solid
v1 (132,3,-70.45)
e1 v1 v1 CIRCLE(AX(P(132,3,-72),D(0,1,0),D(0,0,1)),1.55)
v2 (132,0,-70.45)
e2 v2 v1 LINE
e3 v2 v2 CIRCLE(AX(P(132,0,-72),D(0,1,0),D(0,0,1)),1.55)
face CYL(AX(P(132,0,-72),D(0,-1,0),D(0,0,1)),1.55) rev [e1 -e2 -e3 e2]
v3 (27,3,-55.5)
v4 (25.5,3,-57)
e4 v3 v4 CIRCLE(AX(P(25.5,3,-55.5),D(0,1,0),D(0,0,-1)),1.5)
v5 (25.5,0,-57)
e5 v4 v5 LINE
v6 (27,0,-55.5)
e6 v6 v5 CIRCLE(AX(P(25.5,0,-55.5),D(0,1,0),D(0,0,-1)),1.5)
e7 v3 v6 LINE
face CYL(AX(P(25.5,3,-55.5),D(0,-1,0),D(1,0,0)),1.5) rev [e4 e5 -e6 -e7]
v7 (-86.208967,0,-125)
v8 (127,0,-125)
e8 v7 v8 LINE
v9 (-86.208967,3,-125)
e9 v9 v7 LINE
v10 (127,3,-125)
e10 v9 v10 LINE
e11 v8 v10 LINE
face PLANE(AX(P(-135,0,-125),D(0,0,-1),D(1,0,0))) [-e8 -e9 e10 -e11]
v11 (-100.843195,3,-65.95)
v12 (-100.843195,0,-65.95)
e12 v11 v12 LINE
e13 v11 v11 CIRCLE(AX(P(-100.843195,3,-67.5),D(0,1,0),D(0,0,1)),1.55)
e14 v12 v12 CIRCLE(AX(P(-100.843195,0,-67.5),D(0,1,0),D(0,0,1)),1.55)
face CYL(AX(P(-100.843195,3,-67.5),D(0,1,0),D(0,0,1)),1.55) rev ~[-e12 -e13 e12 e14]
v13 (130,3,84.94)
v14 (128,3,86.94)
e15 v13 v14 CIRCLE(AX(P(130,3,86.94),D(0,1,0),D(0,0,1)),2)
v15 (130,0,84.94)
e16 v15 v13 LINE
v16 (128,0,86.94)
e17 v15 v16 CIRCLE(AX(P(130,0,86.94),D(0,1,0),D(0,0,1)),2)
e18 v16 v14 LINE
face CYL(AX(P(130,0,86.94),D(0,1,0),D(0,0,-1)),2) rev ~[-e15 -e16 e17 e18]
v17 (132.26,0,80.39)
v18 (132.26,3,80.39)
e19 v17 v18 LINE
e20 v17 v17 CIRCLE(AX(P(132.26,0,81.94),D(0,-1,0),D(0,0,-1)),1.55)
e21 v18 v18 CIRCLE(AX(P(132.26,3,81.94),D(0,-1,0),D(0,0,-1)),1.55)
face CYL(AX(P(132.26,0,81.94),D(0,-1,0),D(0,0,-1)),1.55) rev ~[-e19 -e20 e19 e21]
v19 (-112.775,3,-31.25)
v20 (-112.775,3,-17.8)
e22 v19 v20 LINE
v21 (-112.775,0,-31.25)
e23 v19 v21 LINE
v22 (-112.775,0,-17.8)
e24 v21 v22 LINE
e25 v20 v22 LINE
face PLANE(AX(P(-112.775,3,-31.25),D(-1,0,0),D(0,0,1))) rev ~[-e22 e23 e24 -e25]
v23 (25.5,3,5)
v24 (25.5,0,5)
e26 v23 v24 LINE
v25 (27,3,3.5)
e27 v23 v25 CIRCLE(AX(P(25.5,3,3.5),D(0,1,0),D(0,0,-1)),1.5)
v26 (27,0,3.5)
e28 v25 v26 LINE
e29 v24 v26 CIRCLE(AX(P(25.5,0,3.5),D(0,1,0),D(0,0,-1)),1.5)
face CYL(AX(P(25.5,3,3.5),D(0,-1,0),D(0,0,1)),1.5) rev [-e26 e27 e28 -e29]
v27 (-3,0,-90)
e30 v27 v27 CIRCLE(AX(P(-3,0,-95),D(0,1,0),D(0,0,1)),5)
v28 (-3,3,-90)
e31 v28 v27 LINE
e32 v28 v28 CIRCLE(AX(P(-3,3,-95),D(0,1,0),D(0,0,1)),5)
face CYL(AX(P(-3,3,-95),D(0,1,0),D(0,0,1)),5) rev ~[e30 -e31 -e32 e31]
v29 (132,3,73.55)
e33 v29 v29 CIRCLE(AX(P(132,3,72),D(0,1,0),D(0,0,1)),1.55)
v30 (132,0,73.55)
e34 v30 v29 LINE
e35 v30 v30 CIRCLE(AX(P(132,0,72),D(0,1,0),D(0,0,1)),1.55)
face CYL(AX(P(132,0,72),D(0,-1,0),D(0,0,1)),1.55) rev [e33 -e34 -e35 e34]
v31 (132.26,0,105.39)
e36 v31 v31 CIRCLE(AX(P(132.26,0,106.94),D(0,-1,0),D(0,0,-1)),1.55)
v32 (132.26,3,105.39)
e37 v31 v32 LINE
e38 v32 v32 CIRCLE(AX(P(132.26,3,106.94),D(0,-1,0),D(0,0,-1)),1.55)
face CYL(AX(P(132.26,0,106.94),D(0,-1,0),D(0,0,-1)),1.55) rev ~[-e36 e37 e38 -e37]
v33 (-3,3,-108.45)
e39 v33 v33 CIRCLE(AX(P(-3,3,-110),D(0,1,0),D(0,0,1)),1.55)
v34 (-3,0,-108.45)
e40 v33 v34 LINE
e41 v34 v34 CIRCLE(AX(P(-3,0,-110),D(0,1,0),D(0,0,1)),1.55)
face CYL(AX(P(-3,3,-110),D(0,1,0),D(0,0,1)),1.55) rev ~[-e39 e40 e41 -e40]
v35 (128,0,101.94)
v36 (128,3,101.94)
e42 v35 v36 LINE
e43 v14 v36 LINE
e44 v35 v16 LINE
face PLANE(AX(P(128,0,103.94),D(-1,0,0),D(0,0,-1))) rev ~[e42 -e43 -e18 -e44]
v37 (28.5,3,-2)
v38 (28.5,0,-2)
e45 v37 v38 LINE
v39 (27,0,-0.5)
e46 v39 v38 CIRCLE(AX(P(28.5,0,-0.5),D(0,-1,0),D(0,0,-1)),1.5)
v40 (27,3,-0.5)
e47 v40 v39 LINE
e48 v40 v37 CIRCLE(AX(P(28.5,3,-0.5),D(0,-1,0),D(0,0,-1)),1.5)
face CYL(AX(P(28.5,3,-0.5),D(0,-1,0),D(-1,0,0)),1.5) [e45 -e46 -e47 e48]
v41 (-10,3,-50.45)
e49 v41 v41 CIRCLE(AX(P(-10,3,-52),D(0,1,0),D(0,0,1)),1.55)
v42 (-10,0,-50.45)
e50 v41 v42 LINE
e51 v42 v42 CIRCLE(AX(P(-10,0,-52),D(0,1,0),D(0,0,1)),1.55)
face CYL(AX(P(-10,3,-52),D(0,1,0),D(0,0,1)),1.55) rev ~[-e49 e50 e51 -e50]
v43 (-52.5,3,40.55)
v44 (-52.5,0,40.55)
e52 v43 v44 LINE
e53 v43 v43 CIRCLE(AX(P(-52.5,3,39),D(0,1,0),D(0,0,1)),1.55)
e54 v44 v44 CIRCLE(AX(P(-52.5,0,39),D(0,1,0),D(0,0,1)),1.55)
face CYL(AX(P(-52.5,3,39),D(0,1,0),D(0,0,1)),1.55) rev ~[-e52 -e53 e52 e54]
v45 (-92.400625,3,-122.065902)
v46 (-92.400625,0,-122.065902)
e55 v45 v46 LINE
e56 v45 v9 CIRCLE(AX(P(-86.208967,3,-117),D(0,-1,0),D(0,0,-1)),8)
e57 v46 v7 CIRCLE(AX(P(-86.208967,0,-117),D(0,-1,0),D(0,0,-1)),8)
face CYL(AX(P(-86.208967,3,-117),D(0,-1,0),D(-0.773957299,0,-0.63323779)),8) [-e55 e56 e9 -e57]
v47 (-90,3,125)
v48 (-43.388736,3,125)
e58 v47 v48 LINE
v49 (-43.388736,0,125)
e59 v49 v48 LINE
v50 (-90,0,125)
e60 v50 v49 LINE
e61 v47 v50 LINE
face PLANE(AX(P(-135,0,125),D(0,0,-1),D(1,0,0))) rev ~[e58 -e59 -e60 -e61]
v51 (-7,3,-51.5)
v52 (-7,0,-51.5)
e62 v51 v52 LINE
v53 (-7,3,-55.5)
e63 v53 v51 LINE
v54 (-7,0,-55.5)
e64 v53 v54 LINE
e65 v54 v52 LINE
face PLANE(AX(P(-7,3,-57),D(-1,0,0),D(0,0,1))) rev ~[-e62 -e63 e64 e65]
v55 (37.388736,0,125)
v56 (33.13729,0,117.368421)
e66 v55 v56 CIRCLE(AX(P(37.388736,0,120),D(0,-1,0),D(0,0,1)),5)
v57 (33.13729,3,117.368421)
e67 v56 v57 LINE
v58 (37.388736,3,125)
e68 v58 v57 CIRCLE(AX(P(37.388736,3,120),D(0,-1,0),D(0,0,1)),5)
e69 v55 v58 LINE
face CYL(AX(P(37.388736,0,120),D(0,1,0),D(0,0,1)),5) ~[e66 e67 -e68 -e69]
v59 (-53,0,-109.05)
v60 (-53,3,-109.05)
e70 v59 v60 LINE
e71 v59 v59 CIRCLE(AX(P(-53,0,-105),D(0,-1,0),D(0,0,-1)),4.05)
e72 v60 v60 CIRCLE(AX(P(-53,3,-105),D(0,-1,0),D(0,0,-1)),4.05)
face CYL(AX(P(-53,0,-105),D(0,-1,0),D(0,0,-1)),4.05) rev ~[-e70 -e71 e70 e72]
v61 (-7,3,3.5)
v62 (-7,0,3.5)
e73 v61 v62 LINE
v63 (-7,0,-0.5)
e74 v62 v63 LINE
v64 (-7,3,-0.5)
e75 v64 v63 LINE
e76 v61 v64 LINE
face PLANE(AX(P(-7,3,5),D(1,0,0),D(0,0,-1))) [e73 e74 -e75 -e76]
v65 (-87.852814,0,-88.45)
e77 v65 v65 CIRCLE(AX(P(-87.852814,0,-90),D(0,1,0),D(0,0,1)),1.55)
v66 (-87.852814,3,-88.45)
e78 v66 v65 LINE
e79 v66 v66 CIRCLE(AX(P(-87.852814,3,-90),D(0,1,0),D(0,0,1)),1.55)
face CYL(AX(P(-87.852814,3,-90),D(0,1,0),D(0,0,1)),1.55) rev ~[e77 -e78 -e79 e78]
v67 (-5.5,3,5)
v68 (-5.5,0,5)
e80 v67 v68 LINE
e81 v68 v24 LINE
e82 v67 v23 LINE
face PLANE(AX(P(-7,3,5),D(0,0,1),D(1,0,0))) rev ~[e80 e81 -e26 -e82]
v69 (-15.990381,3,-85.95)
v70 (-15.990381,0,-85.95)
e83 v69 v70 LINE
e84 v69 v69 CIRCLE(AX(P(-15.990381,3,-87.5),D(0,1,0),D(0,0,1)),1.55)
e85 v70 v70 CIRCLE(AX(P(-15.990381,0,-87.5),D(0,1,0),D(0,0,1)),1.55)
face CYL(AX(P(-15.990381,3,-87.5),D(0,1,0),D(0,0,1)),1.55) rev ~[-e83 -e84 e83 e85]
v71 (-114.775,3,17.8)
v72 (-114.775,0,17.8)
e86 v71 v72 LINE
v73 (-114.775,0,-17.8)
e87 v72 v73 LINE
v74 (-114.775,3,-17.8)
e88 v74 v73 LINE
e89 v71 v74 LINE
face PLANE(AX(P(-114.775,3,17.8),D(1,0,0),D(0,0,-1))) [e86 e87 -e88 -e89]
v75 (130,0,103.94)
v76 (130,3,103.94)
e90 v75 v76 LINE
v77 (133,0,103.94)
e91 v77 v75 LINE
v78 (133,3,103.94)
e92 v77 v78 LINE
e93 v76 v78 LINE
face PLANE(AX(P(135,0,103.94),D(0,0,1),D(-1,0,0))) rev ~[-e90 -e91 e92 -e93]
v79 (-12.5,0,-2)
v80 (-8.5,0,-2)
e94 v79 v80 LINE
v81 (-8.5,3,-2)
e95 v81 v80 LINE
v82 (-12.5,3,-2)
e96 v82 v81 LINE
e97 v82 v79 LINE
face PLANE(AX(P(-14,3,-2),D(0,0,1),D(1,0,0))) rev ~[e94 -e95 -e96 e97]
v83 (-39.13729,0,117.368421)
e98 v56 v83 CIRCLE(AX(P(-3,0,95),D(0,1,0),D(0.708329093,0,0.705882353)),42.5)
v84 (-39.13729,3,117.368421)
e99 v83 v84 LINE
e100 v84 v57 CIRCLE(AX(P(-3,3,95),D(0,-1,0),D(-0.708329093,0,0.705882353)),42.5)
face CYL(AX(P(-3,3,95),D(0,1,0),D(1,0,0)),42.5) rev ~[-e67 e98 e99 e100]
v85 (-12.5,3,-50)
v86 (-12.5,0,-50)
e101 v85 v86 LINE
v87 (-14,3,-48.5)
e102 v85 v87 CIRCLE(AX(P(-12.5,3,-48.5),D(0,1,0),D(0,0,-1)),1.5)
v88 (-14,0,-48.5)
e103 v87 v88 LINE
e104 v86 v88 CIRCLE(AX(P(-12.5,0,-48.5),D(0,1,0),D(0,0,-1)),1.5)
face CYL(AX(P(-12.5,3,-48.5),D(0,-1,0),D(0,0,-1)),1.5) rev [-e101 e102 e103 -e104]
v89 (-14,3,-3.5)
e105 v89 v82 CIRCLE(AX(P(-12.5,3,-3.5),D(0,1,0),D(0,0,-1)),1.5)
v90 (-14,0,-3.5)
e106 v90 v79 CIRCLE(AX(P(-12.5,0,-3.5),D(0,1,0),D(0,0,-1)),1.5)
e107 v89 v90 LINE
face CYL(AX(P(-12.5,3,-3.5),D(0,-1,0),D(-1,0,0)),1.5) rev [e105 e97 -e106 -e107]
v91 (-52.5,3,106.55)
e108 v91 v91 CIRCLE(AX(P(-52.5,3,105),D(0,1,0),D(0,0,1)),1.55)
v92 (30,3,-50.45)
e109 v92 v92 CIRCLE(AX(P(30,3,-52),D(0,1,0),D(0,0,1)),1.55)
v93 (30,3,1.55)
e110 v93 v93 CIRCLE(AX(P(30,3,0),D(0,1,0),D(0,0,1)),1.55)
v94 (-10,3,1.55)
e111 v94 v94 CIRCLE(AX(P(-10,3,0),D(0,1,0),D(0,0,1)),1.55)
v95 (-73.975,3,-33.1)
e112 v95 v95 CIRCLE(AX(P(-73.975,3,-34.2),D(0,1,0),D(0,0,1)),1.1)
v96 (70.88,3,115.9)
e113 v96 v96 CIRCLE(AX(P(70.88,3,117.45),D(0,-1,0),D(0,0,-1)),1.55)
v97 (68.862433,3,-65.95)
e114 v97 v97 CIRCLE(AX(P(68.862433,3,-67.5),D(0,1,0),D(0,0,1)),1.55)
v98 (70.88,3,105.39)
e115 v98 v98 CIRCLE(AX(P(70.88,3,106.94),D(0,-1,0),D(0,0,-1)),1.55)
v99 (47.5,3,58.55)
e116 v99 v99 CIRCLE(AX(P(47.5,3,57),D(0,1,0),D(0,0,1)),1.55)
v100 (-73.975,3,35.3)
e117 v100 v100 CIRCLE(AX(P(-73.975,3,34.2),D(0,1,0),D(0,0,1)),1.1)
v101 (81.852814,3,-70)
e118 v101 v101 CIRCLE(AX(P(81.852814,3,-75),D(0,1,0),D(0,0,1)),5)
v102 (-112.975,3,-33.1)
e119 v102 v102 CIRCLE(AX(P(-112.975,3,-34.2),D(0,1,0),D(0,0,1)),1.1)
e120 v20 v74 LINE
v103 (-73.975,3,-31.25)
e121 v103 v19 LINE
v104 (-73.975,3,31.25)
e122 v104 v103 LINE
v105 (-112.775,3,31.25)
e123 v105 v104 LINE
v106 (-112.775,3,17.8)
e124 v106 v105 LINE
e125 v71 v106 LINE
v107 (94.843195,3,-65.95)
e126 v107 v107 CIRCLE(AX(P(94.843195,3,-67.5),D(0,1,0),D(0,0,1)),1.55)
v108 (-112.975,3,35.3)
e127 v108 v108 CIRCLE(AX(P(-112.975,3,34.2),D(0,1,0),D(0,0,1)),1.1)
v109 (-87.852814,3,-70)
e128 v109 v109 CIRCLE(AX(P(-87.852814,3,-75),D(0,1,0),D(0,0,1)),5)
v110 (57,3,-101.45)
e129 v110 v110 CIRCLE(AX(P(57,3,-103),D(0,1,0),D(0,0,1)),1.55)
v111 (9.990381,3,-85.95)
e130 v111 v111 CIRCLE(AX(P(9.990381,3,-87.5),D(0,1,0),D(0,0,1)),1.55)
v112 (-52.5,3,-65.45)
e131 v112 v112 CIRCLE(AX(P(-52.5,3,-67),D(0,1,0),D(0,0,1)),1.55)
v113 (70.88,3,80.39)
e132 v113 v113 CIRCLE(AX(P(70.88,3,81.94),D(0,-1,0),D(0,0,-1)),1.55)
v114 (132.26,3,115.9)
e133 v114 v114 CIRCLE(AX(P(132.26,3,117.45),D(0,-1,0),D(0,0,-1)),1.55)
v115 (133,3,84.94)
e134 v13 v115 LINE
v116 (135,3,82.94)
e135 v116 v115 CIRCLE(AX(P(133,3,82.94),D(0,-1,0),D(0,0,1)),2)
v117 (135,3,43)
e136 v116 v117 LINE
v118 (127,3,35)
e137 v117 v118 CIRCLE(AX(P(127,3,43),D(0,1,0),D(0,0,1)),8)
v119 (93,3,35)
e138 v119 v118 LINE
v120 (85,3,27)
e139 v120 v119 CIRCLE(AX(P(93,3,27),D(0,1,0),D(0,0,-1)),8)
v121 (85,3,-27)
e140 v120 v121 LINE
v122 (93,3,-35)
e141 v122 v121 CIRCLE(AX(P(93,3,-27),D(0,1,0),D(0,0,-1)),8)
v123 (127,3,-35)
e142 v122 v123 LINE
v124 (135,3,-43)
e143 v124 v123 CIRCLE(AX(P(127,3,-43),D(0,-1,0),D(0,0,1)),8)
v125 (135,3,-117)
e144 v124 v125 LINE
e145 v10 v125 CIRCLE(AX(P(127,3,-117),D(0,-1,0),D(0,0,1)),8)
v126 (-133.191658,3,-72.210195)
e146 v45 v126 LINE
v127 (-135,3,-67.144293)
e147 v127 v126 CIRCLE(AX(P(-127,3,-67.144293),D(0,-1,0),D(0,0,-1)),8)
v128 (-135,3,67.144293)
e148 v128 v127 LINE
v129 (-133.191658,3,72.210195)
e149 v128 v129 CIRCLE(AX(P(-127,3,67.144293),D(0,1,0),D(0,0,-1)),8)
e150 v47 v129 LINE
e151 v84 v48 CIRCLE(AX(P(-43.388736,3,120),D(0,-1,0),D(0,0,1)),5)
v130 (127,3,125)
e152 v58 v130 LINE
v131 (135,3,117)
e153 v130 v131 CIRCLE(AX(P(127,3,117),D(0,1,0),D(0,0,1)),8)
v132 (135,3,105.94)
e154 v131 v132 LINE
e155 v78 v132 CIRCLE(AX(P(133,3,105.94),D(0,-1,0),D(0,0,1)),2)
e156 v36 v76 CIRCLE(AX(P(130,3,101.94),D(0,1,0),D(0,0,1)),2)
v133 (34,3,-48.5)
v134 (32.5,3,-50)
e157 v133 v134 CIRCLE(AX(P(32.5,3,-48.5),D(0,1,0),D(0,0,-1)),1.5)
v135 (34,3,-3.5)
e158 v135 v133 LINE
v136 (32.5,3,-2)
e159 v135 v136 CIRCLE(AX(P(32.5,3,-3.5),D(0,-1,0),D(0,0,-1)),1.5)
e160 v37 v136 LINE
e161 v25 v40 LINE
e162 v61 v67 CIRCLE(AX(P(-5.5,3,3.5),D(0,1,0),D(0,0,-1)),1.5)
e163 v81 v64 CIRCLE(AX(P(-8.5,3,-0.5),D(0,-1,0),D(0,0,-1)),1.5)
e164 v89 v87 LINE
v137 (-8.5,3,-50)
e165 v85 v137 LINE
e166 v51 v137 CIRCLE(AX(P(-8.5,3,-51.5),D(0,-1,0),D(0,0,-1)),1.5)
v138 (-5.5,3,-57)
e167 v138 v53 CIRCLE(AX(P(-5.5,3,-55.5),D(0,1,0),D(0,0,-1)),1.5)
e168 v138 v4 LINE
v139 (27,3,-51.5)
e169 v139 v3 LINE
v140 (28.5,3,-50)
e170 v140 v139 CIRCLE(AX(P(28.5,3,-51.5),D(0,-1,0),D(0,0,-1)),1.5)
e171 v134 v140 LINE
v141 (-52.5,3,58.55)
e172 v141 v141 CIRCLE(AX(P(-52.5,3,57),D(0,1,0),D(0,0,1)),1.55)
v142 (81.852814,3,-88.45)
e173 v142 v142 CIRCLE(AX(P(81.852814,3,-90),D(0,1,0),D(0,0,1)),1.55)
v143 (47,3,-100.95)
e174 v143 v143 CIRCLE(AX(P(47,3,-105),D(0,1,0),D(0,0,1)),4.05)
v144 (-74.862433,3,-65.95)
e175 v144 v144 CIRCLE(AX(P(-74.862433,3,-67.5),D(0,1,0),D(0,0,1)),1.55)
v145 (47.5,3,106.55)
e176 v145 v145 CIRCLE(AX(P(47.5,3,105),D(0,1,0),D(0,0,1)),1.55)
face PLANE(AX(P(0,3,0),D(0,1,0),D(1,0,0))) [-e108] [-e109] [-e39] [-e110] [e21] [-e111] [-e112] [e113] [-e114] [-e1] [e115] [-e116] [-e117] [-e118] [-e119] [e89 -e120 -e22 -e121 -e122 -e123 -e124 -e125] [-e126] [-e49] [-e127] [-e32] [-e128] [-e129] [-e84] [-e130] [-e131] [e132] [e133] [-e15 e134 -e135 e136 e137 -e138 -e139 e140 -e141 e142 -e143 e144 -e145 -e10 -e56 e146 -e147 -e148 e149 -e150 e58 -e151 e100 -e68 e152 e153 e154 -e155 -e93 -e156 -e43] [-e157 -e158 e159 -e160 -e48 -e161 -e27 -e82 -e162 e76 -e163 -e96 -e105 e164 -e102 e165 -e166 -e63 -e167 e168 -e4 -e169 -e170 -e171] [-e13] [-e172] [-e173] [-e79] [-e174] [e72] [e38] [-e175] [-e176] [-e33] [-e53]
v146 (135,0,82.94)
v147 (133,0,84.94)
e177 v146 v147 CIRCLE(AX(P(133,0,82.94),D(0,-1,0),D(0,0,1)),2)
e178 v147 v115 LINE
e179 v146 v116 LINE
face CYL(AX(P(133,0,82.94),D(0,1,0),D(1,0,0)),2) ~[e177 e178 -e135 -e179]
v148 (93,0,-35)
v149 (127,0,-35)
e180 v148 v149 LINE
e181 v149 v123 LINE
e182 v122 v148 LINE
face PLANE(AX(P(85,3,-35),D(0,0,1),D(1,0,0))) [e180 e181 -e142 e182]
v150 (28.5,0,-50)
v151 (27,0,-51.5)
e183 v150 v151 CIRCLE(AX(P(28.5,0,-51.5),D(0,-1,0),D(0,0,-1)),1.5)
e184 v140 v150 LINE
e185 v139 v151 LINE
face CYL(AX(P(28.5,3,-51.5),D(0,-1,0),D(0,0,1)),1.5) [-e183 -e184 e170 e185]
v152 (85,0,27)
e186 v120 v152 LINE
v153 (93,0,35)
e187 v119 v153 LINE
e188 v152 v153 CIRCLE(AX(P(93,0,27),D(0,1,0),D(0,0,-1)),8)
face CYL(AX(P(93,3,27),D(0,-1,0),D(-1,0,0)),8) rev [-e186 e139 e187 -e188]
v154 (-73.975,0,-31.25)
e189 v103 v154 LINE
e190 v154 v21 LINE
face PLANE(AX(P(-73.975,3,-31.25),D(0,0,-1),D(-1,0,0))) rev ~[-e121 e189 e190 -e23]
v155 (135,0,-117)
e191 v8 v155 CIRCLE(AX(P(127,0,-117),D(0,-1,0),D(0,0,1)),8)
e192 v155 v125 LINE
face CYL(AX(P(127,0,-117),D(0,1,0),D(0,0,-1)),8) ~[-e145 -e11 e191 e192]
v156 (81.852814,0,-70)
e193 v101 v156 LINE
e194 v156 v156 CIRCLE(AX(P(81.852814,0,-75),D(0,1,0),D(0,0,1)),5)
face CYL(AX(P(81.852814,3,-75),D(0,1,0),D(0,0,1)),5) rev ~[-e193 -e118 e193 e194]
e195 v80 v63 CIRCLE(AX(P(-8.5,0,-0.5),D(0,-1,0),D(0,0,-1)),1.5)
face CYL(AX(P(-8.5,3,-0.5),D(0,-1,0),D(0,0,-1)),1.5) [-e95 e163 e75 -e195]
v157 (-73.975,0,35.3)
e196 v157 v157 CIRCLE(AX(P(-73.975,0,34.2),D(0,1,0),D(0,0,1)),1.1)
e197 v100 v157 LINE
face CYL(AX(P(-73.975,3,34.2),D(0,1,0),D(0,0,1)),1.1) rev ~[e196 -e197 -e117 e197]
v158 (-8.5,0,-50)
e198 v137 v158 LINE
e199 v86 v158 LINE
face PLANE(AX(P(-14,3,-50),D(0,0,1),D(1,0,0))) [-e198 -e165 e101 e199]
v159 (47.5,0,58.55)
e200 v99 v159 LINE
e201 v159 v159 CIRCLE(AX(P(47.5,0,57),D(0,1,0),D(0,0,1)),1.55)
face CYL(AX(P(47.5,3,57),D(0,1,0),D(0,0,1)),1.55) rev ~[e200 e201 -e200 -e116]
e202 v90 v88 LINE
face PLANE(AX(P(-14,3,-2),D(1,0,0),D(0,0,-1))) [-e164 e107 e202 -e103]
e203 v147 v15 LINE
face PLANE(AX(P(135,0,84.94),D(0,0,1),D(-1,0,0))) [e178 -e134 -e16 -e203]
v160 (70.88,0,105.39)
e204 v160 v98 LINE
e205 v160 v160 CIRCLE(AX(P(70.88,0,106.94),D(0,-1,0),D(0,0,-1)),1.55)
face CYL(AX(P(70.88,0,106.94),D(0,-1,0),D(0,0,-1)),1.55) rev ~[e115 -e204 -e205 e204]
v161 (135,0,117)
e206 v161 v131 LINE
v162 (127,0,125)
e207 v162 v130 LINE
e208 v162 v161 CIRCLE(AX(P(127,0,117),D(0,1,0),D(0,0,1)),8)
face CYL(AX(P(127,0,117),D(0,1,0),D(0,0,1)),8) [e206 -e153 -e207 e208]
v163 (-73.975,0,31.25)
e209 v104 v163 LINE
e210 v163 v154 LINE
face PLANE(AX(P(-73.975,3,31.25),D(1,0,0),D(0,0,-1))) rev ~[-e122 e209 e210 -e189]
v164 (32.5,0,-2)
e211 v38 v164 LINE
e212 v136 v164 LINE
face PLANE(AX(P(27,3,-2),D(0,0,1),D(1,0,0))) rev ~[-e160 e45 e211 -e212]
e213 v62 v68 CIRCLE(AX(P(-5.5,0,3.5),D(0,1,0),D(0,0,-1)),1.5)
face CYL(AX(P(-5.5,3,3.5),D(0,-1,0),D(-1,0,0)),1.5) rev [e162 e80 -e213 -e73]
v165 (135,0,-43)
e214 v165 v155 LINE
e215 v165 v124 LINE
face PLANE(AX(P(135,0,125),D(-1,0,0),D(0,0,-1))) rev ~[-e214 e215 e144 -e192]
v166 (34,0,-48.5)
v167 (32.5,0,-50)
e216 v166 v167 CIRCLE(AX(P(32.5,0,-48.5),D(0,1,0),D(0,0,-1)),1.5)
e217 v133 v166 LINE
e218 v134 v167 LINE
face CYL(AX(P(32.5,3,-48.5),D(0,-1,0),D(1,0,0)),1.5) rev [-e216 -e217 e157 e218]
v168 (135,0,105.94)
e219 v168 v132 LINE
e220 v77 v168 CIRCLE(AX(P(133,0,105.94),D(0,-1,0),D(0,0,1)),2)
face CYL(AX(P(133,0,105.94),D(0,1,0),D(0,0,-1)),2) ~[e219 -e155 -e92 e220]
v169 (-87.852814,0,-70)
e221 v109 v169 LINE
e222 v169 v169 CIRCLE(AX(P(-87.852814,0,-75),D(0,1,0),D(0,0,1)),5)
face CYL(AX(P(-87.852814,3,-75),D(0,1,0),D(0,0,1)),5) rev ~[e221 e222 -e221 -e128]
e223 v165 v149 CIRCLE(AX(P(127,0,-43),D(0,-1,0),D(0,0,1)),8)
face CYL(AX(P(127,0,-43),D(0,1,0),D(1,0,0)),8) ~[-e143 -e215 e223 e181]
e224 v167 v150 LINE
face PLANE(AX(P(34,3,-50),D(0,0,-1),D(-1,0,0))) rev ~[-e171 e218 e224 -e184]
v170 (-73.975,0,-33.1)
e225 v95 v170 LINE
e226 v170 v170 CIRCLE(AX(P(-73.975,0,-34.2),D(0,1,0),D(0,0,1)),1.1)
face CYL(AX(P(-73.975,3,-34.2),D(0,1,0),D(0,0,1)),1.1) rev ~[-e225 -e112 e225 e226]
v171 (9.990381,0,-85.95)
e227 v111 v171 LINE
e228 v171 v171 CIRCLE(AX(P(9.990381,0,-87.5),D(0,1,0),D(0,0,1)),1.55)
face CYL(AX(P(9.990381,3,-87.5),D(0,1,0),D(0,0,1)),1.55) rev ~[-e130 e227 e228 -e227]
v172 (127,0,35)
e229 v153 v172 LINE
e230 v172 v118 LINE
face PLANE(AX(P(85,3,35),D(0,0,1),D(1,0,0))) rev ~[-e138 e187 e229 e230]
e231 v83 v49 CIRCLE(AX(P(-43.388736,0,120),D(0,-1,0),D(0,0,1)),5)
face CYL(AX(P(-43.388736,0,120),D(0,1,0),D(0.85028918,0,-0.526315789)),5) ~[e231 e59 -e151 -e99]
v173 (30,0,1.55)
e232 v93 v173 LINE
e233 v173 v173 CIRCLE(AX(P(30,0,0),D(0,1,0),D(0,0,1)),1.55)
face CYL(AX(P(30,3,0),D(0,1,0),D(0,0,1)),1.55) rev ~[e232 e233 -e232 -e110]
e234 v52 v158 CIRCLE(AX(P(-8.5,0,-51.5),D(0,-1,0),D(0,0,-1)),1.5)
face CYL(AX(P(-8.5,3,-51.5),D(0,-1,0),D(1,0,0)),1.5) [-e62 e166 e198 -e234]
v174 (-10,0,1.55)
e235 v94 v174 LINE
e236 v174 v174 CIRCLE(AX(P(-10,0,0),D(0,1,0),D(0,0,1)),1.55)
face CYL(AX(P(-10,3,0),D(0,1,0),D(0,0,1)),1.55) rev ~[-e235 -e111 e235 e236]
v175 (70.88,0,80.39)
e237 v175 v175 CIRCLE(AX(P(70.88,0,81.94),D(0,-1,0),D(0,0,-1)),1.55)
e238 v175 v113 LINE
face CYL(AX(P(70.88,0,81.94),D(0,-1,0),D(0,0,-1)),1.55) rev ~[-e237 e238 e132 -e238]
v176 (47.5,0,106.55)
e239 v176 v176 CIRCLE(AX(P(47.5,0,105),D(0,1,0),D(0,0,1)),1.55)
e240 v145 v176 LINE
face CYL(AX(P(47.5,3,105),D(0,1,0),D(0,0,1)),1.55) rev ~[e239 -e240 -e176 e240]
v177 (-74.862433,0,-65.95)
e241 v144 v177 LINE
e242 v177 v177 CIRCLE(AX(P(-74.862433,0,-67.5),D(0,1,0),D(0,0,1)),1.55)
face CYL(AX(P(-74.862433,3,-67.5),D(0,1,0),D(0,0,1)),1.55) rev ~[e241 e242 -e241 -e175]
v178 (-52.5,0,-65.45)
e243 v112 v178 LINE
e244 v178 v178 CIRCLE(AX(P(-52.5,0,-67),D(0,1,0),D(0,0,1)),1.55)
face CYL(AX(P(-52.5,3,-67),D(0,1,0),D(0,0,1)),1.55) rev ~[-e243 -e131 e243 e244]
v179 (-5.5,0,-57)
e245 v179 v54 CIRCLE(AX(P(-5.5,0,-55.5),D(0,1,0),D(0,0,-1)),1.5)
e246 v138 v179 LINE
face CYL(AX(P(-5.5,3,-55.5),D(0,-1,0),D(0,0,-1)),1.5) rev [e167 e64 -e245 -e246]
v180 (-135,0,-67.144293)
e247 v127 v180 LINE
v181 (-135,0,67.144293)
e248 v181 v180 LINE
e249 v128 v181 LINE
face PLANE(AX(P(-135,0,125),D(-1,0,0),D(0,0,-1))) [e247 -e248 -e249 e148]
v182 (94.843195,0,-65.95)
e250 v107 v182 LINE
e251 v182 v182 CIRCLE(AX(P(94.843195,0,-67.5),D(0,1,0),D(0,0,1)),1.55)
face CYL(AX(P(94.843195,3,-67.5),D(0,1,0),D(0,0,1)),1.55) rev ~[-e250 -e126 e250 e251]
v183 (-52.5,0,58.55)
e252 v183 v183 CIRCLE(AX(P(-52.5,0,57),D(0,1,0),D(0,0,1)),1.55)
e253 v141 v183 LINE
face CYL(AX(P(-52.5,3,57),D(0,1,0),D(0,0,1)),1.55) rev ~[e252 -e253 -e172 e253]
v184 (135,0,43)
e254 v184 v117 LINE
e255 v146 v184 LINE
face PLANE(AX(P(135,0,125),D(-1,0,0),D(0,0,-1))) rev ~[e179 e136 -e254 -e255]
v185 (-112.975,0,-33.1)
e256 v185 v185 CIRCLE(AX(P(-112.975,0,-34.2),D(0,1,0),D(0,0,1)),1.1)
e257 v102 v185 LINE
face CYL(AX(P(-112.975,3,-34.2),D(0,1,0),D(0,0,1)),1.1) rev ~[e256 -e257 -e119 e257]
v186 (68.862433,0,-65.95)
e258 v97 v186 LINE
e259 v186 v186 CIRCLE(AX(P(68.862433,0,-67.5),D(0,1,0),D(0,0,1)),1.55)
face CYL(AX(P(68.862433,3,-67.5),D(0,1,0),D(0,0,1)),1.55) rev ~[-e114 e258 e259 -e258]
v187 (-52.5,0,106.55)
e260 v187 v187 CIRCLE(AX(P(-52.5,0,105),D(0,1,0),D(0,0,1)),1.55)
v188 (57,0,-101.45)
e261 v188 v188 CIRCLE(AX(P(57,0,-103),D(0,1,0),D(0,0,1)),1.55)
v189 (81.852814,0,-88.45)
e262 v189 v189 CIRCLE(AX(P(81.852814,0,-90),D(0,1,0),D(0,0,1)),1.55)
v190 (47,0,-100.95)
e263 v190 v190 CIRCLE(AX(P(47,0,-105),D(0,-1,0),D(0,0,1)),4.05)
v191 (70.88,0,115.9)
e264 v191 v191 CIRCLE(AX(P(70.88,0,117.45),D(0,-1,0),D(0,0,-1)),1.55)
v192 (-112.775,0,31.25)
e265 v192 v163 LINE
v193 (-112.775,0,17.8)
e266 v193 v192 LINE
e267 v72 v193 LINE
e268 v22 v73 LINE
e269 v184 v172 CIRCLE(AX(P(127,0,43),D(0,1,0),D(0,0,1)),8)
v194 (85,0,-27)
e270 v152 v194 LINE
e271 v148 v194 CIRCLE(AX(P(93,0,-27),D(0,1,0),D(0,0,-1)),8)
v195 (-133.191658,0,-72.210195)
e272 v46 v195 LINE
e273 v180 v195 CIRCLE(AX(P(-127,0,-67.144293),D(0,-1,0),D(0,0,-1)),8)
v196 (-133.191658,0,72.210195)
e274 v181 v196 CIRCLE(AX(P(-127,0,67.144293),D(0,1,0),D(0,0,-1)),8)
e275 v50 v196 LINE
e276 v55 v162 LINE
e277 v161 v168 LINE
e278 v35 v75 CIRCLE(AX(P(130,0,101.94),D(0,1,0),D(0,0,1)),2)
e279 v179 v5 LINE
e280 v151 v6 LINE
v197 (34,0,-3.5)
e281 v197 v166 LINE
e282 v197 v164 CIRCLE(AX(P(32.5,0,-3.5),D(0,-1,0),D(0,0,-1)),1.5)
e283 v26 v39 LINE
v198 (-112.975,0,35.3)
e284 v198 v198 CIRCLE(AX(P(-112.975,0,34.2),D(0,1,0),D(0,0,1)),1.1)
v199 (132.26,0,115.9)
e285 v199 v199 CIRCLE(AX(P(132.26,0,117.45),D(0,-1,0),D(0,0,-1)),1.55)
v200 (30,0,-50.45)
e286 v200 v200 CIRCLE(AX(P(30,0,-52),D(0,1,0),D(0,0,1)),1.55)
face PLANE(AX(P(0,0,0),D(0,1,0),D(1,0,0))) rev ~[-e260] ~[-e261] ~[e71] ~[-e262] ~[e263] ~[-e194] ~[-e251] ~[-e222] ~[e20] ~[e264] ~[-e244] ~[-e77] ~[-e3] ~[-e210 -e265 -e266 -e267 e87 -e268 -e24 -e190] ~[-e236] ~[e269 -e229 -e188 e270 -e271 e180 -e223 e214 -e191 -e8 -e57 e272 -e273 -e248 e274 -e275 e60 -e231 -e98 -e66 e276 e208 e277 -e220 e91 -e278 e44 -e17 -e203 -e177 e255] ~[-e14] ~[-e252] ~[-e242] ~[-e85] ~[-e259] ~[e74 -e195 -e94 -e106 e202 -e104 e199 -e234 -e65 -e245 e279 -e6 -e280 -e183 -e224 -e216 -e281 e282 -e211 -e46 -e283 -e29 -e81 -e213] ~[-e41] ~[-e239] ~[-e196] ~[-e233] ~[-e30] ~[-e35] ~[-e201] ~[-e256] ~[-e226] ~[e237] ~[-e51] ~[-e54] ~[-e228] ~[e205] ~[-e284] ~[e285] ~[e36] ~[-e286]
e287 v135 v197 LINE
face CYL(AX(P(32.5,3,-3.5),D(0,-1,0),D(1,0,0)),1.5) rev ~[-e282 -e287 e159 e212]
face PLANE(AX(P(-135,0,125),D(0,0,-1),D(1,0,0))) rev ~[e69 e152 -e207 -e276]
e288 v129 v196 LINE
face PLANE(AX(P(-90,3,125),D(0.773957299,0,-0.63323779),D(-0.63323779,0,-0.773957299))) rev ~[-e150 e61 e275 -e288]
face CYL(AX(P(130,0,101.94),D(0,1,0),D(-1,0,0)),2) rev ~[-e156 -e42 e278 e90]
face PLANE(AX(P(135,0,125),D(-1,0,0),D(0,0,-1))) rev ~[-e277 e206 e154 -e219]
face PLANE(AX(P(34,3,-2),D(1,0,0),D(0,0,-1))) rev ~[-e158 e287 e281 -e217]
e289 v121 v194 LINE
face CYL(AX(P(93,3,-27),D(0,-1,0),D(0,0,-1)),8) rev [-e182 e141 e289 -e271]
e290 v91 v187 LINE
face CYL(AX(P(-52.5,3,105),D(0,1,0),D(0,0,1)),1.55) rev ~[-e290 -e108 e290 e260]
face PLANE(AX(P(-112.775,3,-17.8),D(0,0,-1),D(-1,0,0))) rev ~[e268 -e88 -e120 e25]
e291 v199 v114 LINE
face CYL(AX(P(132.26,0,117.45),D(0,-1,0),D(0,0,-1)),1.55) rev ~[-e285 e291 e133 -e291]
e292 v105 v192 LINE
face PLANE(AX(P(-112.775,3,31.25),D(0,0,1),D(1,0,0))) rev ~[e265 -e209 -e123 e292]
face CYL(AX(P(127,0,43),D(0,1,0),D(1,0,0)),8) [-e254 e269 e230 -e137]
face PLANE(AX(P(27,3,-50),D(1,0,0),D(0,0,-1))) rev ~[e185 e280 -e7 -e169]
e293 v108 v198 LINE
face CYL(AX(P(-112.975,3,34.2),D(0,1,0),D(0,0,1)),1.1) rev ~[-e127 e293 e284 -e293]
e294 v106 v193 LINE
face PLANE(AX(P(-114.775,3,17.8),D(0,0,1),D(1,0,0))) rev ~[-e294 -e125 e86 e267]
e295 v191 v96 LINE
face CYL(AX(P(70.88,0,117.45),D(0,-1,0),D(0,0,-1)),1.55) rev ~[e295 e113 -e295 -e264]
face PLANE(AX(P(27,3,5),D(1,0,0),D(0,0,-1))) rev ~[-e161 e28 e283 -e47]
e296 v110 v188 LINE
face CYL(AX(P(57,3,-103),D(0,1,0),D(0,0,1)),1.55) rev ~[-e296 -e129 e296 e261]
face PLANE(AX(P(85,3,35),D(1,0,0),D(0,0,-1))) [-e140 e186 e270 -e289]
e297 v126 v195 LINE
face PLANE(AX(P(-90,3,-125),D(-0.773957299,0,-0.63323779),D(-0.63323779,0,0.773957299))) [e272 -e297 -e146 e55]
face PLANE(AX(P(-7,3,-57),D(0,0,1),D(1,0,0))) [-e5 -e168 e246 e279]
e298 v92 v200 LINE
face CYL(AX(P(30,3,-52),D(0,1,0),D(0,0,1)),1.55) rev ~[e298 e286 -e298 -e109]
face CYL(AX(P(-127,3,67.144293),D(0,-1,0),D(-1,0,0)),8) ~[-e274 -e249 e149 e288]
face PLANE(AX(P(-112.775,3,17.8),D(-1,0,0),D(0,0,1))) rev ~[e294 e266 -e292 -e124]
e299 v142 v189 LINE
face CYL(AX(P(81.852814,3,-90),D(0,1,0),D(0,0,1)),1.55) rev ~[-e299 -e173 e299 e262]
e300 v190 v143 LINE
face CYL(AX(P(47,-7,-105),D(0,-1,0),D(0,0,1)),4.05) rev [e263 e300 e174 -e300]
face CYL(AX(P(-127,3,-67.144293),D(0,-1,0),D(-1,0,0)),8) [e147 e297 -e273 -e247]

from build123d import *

# Parameters (mm, degrees)
SKETCH_1_W           = 270
SKETCH_1_H           = 250
SKETCH_1_R           = 1.55
EXTRUDE_1_DEPTH      = 3
SKETCH_2_R           = 40
CUT_EXTRUDE_1_DEPTH  = 10
CUT_EXTRUDE_3_DEPTH  = 10
SKETCH_5_R           = 5
SKETCH_5_R_2         = 1.55
CUT_EXTRUDE_4_DEPTH  = 10
SKETCH_6_R           = 42.5
CUT_EXTRUDE_5_DEPTH  = 10
SKETCH_8_W           = 100
SKETCH_8_H           = 70
CUT_EXTRUDE_7_DEPTH  = 10
SKETCH_9_R           = 1.55
CUT_EXTRUDE_8_DEPTH  = 10
SKETCH_10_R          = 1.55
CUT_EXTRUDE_9_DEPTH  = 10
SKETCH_11_R          = 1.55
CUT_EXTRUDE_10_DEPTH = 10
FILLET_3_R           = 8
SKETCH_13_W          = 34
SKETCH_13_H          = 48
SKETCH_13_W_2        = 7
SKETCH_13_H_2        = 7
SKETCH_13_R          = 1.55
CUT_EXTRUDE_12_DEPTH = 10
FILLET_4_R           = 1.5
SKETCH_15_R          = 1.55
CUT_EXTRUDE_13_DEPTH = 10
SKETCH_16_R          = 4.05
CUT_EXTRUDE_14_DEPTH = 10
CUT_EXTRUDE_START    = -10
SKETCH_19_R          = 4.05
CUT_EXTRUDE_19_DEPTH = 10
SKETCH_21_R          = 1.55
CUT_EXTRUDE_20_DEPTH = 10
SKETCH_23_W          = 7
SKETCH_23_H          = 19
CUT_EXTRUDE_22_DEPTH = 10
FILLET_8_R           = 2
SKETCH_12_W          = 2
SKETCH_12_H          = 35.6
SKETCH_12_R          = 1.1
CUT_EXTRUDE_23_DEPTH = 10
FILLET_9_R           = 5
SKETCH_26_R          = 1.55
CUT_EXTRUDE_24_DEPTH = 8


with BuildPart() as part:
    # 草图1 → 凸台-拉伸1 (new body)
    with BuildSketch(Plane(origin=(0, 0, 0), x_dir=(1, 0, 0), z_dir=(0, 1, 0))):
        Rectangle(SKETCH_1_W, SKETCH_1_H)
        with Locations(Location((132, 72, 0), (0, 0, 270))):
            Circle(SKETCH_1_R, mode=Mode.SUBTRACT)
        with Locations(Location((132, -72, 0), (0, 0, 270))):
            Circle(SKETCH_1_R, mode=Mode.SUBTRACT)
    extrude(amount=EXTRUDE_1_DEPTH)

    # 草图2 → 切除-拉伸1 (cut)
    with BuildSketch(Plane(origin=(0, 3, 0), x_dir=(1, 0, 0), z_dir=(0, 1, 0))):
        with Locations((-3, -95)):
            Circle(SKETCH_2_R)
    extrude(amount=-CUT_EXTRUDE_1_DEPTH, mode=Mode.SUBTRACT)

    # 草图4 → 切除-拉伸3 (cut)
    with BuildSketch(Plane(origin=(0, 3, 0), x_dir=(1, 0, 0), z_dir=(0, 1, 0))):
        Polygon((-90, -125), (-135, -70), (-162.976707817, -172.035264534), align=None)
        Polygon((-90, 125), (-135, 70), (-171.69806915, 153.777299788), align=None)
    extrude(amount=-CUT_EXTRUDE_3_DEPTH, mode=Mode.SUBTRACT)

    # 草图5 → 切除-拉伸4 (cut)
    with BuildSketch(Plane(origin=(0, 3, 0), x_dir=(1, 0, 0), z_dir=(0, 1, 0))):
        with Locations(Location((-87.852813742, 75, 0), (0, 0, 270))):
            Circle(SKETCH_5_R)
        with Locations(Location((-3, 95, 0), (0, 0, 270))):
            Circle(SKETCH_5_R)
        with Locations(Location((81.852813742, 75, 0), (0, 0, 270))):
            Circle(SKETCH_5_R)
        with Locations(Location((-87.852813742, 90, 0), (0, 0, 270))):
            Circle(SKETCH_5_R_2)
        with Locations(Location((-74.862432686, 67.5, 0), (0, 0, 270))):
            Circle(SKETCH_5_R_2)
        with Locations(Location((-100.843194799, 67.5, 0), (0, 0, 270))):
            Circle(SKETCH_5_R_2)
        with Locations(Location((-3, 110, 0), (0, 0, 270))):
            Circle(SKETCH_5_R_2)
        with Locations(Location((9.990381057, 87.5, 0), (0, 0, 270))):
            Circle(SKETCH_5_R_2)
        with Locations(Location((-15.990381057, 87.5, 0), (0, 0, 270))):
            Circle(SKETCH_5_R_2)
        with Locations(Location((81.852813742, 90, 0), (0, 0, 270))):
            Circle(SKETCH_5_R_2)
        with Locations(Location((94.843194799, 67.5, 0), (0, 0, 270))):
            Circle(SKETCH_5_R_2)
        with Locations(Location((68.862432686, 67.5, 0), (0, 0, 270))):
            Circle(SKETCH_5_R_2)
    extrude(amount=-CUT_EXTRUDE_4_DEPTH, mode=Mode.SUBTRACT)

    # 草图6 → 切除-拉伸5 (cut)
    with BuildSketch(Plane(origin=(0, 3, 0), x_dir=(1, 0, 0), z_dir=(0, 1, 0))):
        with Locations((-3, -95)):
            Circle(SKETCH_6_R)
    extrude(amount=-CUT_EXTRUDE_5_DEPTH, mode=Mode.SUBTRACT)

    # 草图8 → 切除-拉伸7 (cut)
    with BuildSketch(Plane(origin=(0, 3, 0), x_dir=(1, 0, 0), z_dir=(0, 1, 0))):
        with Locations((135, 0)):
            Rectangle(SKETCH_8_W, SKETCH_8_H)
    extrude(amount=-CUT_EXTRUDE_7_DEPTH, mode=Mode.SUBTRACT)

    # 草图9 → 切除-拉伸8 (cut)
    with BuildSketch(Plane(origin=(0, 3, 0), x_dir=(1, 0, 0), z_dir=(0, 1, 0))):
        with Locations(Location((-52.5, 67, 0), (0, 0, 270))):
            Circle(SKETCH_9_R)
    extrude(amount=-CUT_EXTRUDE_8_DEPTH, mode=Mode.SUBTRACT)

    # 草图10 → 切除-拉伸9 (cut)
    with BuildSketch(Plane(origin=(0, 3, 0), x_dir=(1, 0, 0), z_dir=(0, 1, 0))):
        with Locations(Location((57, 103, 0), (0, 0, 270))):
            Circle(SKETCH_10_R)
    extrude(amount=-CUT_EXTRUDE_9_DEPTH, mode=Mode.SUBTRACT)

    # 草图11 → 切除-拉伸10 (cut)
    with BuildSketch(Plane(origin=(0, 3, 0), x_dir=(1, 0, 0), z_dir=(0, 1, 0))):
        with Locations(Location((-52.5, -39, 0), (0, 0, 270))):
            Circle(SKETCH_11_R)
    extrude(amount=-CUT_EXTRUDE_10_DEPTH, mode=Mode.SUBTRACT)

    # 圆角3
    fillet_3_edges = [part.edges().sort_by_distance(p)[0] for p in [
        (135, 1.5, 35),
        (135, 1.5, -35),
        (85, 1.5, 35),
        (85, 1.5, -35),
        (-135, 1.5, -70),
        (-135, 1.5, 70),
        (-90, 1.5, -125),
        (135, 1.5, 125),
        (135, 1.5, -125),
    ]]
    fillet(fillet_3_edges, radius=FILLET_3_R)

    # 草图13 → 切除-拉伸12 (cut)
    with BuildSketch(Plane(origin=(0, 3, 0), x_dir=(1, 0, 0), z_dir=(0, 1, 0))):
        with Locations((10, 26)):
            Rectangle(SKETCH_13_W, SKETCH_13_H)
        with Locations((30.5, 26)):
            Rectangle(SKETCH_13_W_2, SKETCH_13_H)
        with Locations((10, 53.5)):
            Rectangle(SKETCH_13_W, SKETCH_13_H_2)
        with Locations((-10.5, 26)):
            Rectangle(SKETCH_13_W_2, SKETCH_13_H)
        with Locations((10, -1.5)):
            Rectangle(SKETCH_13_W, SKETCH_13_H_2)
        with Locations(Location((30, 0, 0), (0, 0, 270))):
            Circle(SKETCH_13_R)
        with Locations(Location((-10, 52, 0), (0, 0, 270))):
            Circle(SKETCH_13_R)
        with Locations(Location((-10, 0, 0), (0, 0, 270))):
            Circle(SKETCH_13_R)
        with Locations(Location((30, 52, 0), (0, 0, 270))):
            Circle(SKETCH_13_R)
    extrude(amount=-CUT_EXTRUDE_12_DEPTH, mode=Mode.SUBTRACT)

    # 圆角4
    fillet_4_edges = [part.edges().sort_by_distance(p)[0] for p in [
        (-7, 1.5, -2),
        (-14, 1.5, -2),
        (-14, 1.5, -50),
        (-7, 1.5, -50),
        (-7, 1.5, -57),
        (27, 1.5, -57),
        (27, 1.5, -50),
        (34, 1.5, -50),
        (34, 1.5, -2),
        (27, 1.5, -2),
        (27, 1.5, 5),
        (-7, 1.5, 5),
    ]]
    fillet(fillet_4_edges, radius=FILLET_4_R)

    # 草图15 → 切除-拉伸13 (cut)
    with BuildSketch(Plane(origin=(0, 3, 0), x_dir=(1, 0, 0), z_dir=(0, 1, 0))):
        with Locations(Location((47.5, -105, 0), (0, 0, 270))):
            Circle(SKETCH_15_R)
        with Locations(Location((-52.5, -105, 0), (0, 0, 270))):
            Circle(SKETCH_15_R)
        with Locations(Location((47.5, -57, 0), (0, 0, 270))):
            Circle(SKETCH_15_R)
        with Locations(Location((-52.5, -57, 0), (0, 0, 270))):
            Circle(SKETCH_15_R)
    extrude(amount=-CUT_EXTRUDE_13_DEPTH, mode=Mode.SUBTRACT)

    # 草图16 → 切除-拉伸14 (cut)
    with BuildSketch(Plane.XZ):
        with Locations(Location((-53, -105, 0), (0, 0, 270))):
            Circle(SKETCH_16_R)
    extrude(amount=-CUT_EXTRUDE_14_DEPTH, mode=Mode.SUBTRACT)

    # 草图19 → 切除-拉伸19 (cut)
    with BuildSketch(Plane(origin=(0, 3, 0), x_dir=(1, 0, 0), z_dir=(0, 1, 0)).offset(CUT_EXTRUDE_START)):
        with Locations(Location((-53, 105, 0), (0, 0, 90))):
            Circle(SKETCH_19_R)
        with Locations(Location((47, 105, 0), (0, 0, 270))):
            Circle(SKETCH_19_R)
    extrude(amount=CUT_EXTRUDE_19_DEPTH, mode=Mode.SUBTRACT)

    # 草图21 → 切除-拉伸20 (cut)
    with BuildSketch(Plane(origin=(0, 0, 0), x_dir=(-1, 0, 0), z_dir=(0, -1, 0))):
        with Locations(Location((-132.26, -117.45, 0), (0, 0, 90))):
            Circle(SKETCH_21_R)
        with Locations(Location((-70.88, -117.45, 0), (0, 0, 90))):
            Circle(SKETCH_21_R)
        with Locations(Location((-70.88, -81.94, 0), (0, 0, 90))):
            Circle(SKETCH_21_R)
        with Locations(Location((-132.26, -81.94, 0), (0, 0, 90))):
            Circle(SKETCH_21_R)
    extrude(amount=-CUT_EXTRUDE_20_DEPTH, mode=Mode.SUBTRACT)

    # 草图23 → 切除-拉伸22 (cut)
    with BuildSketch(Plane(origin=(0, 0, 0), x_dir=(-1, 0, 0), z_dir=(0, -1, 0))):
        with Locations((-131.5, -94.44)):
            Rectangle(SKETCH_23_W, SKETCH_23_H)
    extrude(amount=-CUT_EXTRUDE_22_DEPTH, mode=Mode.SUBTRACT)

    # 圆角8
    fillet_8_edges = [part.edges().sort_by_distance(p)[0] for p in [
        (135, 1.5, 103.94),
        (135, 1.5, 84.94),
        (128, 1.5, 84.94),
        (128, 1.5, 103.94),
    ]]
    fillet(fillet_8_edges, radius=FILLET_8_R)

    # 草图12 → 切除-拉伸23 (cut)
    with BuildSketch(Plane(origin=(0, 3, 0), x_dir=(1, 0, 0), z_dir=(0, 1, 0))):
        with Locations((-113.775, 0)):
            Rectangle(SKETCH_12_W, SKETCH_12_H)
        with Locations((-111.775, 0)):
            Rectangle(SKETCH_12_W, SKETCH_12_H)
        Polygon((-73.975, 31.25), (-112.775, 31.25), (-112.775, 17.8), (-110.775, 17.8), (-110.775, -17.8), (-112.775, -17.8), (-112.775, -31.25), (-73.975, -31.25), align=None)
        with Locations(Location((-112.975, 34.2, 0), (0, 0, 270))):
            Circle(SKETCH_12_R)
        with Locations(Location((-73.975, 34.2, 0), (0, 0, 270))):
            Circle(SKETCH_12_R)
        with Locations(Location((-112.975, -34.2, 0), (0, 0, 270))):
            Circle(SKETCH_12_R)
        with Locations(Location((-73.975, -34.2, 0), (0, 0, 270))):
            Circle(SKETCH_12_R)
    extrude(amount=-CUT_EXTRUDE_23_DEPTH, mode=Mode.SUBTRACT)

    # 圆角9
    fillet_9_edges = [part.edges().sort_by_distance(p)[0] for p in [
        (27.103986447, 1.5, 125),
        (-33.103986447, 1.5, 125),
    ]]
    fillet(fillet_9_edges, radius=FILLET_9_R)

    # 草图26 → 切除-拉伸24 (cut)
    with BuildSketch(Plane(origin=(0, 0, 0), x_dir=(-1, 0, 0), z_dir=(0, -1, 0))):
        with Locations(Location((-132.26, -106.94, 0), (0, 0, 90))):
            Circle(SKETCH_26_R)
        with Locations(Location((-70.88, -106.94, 0), (0, 0, 90))):
            Circle(SKETCH_26_R)
    extrude(amount=-CUT_EXTRUDE_24_DEPTH, mode=Mode.SUBTRACT)


solid = part.part
